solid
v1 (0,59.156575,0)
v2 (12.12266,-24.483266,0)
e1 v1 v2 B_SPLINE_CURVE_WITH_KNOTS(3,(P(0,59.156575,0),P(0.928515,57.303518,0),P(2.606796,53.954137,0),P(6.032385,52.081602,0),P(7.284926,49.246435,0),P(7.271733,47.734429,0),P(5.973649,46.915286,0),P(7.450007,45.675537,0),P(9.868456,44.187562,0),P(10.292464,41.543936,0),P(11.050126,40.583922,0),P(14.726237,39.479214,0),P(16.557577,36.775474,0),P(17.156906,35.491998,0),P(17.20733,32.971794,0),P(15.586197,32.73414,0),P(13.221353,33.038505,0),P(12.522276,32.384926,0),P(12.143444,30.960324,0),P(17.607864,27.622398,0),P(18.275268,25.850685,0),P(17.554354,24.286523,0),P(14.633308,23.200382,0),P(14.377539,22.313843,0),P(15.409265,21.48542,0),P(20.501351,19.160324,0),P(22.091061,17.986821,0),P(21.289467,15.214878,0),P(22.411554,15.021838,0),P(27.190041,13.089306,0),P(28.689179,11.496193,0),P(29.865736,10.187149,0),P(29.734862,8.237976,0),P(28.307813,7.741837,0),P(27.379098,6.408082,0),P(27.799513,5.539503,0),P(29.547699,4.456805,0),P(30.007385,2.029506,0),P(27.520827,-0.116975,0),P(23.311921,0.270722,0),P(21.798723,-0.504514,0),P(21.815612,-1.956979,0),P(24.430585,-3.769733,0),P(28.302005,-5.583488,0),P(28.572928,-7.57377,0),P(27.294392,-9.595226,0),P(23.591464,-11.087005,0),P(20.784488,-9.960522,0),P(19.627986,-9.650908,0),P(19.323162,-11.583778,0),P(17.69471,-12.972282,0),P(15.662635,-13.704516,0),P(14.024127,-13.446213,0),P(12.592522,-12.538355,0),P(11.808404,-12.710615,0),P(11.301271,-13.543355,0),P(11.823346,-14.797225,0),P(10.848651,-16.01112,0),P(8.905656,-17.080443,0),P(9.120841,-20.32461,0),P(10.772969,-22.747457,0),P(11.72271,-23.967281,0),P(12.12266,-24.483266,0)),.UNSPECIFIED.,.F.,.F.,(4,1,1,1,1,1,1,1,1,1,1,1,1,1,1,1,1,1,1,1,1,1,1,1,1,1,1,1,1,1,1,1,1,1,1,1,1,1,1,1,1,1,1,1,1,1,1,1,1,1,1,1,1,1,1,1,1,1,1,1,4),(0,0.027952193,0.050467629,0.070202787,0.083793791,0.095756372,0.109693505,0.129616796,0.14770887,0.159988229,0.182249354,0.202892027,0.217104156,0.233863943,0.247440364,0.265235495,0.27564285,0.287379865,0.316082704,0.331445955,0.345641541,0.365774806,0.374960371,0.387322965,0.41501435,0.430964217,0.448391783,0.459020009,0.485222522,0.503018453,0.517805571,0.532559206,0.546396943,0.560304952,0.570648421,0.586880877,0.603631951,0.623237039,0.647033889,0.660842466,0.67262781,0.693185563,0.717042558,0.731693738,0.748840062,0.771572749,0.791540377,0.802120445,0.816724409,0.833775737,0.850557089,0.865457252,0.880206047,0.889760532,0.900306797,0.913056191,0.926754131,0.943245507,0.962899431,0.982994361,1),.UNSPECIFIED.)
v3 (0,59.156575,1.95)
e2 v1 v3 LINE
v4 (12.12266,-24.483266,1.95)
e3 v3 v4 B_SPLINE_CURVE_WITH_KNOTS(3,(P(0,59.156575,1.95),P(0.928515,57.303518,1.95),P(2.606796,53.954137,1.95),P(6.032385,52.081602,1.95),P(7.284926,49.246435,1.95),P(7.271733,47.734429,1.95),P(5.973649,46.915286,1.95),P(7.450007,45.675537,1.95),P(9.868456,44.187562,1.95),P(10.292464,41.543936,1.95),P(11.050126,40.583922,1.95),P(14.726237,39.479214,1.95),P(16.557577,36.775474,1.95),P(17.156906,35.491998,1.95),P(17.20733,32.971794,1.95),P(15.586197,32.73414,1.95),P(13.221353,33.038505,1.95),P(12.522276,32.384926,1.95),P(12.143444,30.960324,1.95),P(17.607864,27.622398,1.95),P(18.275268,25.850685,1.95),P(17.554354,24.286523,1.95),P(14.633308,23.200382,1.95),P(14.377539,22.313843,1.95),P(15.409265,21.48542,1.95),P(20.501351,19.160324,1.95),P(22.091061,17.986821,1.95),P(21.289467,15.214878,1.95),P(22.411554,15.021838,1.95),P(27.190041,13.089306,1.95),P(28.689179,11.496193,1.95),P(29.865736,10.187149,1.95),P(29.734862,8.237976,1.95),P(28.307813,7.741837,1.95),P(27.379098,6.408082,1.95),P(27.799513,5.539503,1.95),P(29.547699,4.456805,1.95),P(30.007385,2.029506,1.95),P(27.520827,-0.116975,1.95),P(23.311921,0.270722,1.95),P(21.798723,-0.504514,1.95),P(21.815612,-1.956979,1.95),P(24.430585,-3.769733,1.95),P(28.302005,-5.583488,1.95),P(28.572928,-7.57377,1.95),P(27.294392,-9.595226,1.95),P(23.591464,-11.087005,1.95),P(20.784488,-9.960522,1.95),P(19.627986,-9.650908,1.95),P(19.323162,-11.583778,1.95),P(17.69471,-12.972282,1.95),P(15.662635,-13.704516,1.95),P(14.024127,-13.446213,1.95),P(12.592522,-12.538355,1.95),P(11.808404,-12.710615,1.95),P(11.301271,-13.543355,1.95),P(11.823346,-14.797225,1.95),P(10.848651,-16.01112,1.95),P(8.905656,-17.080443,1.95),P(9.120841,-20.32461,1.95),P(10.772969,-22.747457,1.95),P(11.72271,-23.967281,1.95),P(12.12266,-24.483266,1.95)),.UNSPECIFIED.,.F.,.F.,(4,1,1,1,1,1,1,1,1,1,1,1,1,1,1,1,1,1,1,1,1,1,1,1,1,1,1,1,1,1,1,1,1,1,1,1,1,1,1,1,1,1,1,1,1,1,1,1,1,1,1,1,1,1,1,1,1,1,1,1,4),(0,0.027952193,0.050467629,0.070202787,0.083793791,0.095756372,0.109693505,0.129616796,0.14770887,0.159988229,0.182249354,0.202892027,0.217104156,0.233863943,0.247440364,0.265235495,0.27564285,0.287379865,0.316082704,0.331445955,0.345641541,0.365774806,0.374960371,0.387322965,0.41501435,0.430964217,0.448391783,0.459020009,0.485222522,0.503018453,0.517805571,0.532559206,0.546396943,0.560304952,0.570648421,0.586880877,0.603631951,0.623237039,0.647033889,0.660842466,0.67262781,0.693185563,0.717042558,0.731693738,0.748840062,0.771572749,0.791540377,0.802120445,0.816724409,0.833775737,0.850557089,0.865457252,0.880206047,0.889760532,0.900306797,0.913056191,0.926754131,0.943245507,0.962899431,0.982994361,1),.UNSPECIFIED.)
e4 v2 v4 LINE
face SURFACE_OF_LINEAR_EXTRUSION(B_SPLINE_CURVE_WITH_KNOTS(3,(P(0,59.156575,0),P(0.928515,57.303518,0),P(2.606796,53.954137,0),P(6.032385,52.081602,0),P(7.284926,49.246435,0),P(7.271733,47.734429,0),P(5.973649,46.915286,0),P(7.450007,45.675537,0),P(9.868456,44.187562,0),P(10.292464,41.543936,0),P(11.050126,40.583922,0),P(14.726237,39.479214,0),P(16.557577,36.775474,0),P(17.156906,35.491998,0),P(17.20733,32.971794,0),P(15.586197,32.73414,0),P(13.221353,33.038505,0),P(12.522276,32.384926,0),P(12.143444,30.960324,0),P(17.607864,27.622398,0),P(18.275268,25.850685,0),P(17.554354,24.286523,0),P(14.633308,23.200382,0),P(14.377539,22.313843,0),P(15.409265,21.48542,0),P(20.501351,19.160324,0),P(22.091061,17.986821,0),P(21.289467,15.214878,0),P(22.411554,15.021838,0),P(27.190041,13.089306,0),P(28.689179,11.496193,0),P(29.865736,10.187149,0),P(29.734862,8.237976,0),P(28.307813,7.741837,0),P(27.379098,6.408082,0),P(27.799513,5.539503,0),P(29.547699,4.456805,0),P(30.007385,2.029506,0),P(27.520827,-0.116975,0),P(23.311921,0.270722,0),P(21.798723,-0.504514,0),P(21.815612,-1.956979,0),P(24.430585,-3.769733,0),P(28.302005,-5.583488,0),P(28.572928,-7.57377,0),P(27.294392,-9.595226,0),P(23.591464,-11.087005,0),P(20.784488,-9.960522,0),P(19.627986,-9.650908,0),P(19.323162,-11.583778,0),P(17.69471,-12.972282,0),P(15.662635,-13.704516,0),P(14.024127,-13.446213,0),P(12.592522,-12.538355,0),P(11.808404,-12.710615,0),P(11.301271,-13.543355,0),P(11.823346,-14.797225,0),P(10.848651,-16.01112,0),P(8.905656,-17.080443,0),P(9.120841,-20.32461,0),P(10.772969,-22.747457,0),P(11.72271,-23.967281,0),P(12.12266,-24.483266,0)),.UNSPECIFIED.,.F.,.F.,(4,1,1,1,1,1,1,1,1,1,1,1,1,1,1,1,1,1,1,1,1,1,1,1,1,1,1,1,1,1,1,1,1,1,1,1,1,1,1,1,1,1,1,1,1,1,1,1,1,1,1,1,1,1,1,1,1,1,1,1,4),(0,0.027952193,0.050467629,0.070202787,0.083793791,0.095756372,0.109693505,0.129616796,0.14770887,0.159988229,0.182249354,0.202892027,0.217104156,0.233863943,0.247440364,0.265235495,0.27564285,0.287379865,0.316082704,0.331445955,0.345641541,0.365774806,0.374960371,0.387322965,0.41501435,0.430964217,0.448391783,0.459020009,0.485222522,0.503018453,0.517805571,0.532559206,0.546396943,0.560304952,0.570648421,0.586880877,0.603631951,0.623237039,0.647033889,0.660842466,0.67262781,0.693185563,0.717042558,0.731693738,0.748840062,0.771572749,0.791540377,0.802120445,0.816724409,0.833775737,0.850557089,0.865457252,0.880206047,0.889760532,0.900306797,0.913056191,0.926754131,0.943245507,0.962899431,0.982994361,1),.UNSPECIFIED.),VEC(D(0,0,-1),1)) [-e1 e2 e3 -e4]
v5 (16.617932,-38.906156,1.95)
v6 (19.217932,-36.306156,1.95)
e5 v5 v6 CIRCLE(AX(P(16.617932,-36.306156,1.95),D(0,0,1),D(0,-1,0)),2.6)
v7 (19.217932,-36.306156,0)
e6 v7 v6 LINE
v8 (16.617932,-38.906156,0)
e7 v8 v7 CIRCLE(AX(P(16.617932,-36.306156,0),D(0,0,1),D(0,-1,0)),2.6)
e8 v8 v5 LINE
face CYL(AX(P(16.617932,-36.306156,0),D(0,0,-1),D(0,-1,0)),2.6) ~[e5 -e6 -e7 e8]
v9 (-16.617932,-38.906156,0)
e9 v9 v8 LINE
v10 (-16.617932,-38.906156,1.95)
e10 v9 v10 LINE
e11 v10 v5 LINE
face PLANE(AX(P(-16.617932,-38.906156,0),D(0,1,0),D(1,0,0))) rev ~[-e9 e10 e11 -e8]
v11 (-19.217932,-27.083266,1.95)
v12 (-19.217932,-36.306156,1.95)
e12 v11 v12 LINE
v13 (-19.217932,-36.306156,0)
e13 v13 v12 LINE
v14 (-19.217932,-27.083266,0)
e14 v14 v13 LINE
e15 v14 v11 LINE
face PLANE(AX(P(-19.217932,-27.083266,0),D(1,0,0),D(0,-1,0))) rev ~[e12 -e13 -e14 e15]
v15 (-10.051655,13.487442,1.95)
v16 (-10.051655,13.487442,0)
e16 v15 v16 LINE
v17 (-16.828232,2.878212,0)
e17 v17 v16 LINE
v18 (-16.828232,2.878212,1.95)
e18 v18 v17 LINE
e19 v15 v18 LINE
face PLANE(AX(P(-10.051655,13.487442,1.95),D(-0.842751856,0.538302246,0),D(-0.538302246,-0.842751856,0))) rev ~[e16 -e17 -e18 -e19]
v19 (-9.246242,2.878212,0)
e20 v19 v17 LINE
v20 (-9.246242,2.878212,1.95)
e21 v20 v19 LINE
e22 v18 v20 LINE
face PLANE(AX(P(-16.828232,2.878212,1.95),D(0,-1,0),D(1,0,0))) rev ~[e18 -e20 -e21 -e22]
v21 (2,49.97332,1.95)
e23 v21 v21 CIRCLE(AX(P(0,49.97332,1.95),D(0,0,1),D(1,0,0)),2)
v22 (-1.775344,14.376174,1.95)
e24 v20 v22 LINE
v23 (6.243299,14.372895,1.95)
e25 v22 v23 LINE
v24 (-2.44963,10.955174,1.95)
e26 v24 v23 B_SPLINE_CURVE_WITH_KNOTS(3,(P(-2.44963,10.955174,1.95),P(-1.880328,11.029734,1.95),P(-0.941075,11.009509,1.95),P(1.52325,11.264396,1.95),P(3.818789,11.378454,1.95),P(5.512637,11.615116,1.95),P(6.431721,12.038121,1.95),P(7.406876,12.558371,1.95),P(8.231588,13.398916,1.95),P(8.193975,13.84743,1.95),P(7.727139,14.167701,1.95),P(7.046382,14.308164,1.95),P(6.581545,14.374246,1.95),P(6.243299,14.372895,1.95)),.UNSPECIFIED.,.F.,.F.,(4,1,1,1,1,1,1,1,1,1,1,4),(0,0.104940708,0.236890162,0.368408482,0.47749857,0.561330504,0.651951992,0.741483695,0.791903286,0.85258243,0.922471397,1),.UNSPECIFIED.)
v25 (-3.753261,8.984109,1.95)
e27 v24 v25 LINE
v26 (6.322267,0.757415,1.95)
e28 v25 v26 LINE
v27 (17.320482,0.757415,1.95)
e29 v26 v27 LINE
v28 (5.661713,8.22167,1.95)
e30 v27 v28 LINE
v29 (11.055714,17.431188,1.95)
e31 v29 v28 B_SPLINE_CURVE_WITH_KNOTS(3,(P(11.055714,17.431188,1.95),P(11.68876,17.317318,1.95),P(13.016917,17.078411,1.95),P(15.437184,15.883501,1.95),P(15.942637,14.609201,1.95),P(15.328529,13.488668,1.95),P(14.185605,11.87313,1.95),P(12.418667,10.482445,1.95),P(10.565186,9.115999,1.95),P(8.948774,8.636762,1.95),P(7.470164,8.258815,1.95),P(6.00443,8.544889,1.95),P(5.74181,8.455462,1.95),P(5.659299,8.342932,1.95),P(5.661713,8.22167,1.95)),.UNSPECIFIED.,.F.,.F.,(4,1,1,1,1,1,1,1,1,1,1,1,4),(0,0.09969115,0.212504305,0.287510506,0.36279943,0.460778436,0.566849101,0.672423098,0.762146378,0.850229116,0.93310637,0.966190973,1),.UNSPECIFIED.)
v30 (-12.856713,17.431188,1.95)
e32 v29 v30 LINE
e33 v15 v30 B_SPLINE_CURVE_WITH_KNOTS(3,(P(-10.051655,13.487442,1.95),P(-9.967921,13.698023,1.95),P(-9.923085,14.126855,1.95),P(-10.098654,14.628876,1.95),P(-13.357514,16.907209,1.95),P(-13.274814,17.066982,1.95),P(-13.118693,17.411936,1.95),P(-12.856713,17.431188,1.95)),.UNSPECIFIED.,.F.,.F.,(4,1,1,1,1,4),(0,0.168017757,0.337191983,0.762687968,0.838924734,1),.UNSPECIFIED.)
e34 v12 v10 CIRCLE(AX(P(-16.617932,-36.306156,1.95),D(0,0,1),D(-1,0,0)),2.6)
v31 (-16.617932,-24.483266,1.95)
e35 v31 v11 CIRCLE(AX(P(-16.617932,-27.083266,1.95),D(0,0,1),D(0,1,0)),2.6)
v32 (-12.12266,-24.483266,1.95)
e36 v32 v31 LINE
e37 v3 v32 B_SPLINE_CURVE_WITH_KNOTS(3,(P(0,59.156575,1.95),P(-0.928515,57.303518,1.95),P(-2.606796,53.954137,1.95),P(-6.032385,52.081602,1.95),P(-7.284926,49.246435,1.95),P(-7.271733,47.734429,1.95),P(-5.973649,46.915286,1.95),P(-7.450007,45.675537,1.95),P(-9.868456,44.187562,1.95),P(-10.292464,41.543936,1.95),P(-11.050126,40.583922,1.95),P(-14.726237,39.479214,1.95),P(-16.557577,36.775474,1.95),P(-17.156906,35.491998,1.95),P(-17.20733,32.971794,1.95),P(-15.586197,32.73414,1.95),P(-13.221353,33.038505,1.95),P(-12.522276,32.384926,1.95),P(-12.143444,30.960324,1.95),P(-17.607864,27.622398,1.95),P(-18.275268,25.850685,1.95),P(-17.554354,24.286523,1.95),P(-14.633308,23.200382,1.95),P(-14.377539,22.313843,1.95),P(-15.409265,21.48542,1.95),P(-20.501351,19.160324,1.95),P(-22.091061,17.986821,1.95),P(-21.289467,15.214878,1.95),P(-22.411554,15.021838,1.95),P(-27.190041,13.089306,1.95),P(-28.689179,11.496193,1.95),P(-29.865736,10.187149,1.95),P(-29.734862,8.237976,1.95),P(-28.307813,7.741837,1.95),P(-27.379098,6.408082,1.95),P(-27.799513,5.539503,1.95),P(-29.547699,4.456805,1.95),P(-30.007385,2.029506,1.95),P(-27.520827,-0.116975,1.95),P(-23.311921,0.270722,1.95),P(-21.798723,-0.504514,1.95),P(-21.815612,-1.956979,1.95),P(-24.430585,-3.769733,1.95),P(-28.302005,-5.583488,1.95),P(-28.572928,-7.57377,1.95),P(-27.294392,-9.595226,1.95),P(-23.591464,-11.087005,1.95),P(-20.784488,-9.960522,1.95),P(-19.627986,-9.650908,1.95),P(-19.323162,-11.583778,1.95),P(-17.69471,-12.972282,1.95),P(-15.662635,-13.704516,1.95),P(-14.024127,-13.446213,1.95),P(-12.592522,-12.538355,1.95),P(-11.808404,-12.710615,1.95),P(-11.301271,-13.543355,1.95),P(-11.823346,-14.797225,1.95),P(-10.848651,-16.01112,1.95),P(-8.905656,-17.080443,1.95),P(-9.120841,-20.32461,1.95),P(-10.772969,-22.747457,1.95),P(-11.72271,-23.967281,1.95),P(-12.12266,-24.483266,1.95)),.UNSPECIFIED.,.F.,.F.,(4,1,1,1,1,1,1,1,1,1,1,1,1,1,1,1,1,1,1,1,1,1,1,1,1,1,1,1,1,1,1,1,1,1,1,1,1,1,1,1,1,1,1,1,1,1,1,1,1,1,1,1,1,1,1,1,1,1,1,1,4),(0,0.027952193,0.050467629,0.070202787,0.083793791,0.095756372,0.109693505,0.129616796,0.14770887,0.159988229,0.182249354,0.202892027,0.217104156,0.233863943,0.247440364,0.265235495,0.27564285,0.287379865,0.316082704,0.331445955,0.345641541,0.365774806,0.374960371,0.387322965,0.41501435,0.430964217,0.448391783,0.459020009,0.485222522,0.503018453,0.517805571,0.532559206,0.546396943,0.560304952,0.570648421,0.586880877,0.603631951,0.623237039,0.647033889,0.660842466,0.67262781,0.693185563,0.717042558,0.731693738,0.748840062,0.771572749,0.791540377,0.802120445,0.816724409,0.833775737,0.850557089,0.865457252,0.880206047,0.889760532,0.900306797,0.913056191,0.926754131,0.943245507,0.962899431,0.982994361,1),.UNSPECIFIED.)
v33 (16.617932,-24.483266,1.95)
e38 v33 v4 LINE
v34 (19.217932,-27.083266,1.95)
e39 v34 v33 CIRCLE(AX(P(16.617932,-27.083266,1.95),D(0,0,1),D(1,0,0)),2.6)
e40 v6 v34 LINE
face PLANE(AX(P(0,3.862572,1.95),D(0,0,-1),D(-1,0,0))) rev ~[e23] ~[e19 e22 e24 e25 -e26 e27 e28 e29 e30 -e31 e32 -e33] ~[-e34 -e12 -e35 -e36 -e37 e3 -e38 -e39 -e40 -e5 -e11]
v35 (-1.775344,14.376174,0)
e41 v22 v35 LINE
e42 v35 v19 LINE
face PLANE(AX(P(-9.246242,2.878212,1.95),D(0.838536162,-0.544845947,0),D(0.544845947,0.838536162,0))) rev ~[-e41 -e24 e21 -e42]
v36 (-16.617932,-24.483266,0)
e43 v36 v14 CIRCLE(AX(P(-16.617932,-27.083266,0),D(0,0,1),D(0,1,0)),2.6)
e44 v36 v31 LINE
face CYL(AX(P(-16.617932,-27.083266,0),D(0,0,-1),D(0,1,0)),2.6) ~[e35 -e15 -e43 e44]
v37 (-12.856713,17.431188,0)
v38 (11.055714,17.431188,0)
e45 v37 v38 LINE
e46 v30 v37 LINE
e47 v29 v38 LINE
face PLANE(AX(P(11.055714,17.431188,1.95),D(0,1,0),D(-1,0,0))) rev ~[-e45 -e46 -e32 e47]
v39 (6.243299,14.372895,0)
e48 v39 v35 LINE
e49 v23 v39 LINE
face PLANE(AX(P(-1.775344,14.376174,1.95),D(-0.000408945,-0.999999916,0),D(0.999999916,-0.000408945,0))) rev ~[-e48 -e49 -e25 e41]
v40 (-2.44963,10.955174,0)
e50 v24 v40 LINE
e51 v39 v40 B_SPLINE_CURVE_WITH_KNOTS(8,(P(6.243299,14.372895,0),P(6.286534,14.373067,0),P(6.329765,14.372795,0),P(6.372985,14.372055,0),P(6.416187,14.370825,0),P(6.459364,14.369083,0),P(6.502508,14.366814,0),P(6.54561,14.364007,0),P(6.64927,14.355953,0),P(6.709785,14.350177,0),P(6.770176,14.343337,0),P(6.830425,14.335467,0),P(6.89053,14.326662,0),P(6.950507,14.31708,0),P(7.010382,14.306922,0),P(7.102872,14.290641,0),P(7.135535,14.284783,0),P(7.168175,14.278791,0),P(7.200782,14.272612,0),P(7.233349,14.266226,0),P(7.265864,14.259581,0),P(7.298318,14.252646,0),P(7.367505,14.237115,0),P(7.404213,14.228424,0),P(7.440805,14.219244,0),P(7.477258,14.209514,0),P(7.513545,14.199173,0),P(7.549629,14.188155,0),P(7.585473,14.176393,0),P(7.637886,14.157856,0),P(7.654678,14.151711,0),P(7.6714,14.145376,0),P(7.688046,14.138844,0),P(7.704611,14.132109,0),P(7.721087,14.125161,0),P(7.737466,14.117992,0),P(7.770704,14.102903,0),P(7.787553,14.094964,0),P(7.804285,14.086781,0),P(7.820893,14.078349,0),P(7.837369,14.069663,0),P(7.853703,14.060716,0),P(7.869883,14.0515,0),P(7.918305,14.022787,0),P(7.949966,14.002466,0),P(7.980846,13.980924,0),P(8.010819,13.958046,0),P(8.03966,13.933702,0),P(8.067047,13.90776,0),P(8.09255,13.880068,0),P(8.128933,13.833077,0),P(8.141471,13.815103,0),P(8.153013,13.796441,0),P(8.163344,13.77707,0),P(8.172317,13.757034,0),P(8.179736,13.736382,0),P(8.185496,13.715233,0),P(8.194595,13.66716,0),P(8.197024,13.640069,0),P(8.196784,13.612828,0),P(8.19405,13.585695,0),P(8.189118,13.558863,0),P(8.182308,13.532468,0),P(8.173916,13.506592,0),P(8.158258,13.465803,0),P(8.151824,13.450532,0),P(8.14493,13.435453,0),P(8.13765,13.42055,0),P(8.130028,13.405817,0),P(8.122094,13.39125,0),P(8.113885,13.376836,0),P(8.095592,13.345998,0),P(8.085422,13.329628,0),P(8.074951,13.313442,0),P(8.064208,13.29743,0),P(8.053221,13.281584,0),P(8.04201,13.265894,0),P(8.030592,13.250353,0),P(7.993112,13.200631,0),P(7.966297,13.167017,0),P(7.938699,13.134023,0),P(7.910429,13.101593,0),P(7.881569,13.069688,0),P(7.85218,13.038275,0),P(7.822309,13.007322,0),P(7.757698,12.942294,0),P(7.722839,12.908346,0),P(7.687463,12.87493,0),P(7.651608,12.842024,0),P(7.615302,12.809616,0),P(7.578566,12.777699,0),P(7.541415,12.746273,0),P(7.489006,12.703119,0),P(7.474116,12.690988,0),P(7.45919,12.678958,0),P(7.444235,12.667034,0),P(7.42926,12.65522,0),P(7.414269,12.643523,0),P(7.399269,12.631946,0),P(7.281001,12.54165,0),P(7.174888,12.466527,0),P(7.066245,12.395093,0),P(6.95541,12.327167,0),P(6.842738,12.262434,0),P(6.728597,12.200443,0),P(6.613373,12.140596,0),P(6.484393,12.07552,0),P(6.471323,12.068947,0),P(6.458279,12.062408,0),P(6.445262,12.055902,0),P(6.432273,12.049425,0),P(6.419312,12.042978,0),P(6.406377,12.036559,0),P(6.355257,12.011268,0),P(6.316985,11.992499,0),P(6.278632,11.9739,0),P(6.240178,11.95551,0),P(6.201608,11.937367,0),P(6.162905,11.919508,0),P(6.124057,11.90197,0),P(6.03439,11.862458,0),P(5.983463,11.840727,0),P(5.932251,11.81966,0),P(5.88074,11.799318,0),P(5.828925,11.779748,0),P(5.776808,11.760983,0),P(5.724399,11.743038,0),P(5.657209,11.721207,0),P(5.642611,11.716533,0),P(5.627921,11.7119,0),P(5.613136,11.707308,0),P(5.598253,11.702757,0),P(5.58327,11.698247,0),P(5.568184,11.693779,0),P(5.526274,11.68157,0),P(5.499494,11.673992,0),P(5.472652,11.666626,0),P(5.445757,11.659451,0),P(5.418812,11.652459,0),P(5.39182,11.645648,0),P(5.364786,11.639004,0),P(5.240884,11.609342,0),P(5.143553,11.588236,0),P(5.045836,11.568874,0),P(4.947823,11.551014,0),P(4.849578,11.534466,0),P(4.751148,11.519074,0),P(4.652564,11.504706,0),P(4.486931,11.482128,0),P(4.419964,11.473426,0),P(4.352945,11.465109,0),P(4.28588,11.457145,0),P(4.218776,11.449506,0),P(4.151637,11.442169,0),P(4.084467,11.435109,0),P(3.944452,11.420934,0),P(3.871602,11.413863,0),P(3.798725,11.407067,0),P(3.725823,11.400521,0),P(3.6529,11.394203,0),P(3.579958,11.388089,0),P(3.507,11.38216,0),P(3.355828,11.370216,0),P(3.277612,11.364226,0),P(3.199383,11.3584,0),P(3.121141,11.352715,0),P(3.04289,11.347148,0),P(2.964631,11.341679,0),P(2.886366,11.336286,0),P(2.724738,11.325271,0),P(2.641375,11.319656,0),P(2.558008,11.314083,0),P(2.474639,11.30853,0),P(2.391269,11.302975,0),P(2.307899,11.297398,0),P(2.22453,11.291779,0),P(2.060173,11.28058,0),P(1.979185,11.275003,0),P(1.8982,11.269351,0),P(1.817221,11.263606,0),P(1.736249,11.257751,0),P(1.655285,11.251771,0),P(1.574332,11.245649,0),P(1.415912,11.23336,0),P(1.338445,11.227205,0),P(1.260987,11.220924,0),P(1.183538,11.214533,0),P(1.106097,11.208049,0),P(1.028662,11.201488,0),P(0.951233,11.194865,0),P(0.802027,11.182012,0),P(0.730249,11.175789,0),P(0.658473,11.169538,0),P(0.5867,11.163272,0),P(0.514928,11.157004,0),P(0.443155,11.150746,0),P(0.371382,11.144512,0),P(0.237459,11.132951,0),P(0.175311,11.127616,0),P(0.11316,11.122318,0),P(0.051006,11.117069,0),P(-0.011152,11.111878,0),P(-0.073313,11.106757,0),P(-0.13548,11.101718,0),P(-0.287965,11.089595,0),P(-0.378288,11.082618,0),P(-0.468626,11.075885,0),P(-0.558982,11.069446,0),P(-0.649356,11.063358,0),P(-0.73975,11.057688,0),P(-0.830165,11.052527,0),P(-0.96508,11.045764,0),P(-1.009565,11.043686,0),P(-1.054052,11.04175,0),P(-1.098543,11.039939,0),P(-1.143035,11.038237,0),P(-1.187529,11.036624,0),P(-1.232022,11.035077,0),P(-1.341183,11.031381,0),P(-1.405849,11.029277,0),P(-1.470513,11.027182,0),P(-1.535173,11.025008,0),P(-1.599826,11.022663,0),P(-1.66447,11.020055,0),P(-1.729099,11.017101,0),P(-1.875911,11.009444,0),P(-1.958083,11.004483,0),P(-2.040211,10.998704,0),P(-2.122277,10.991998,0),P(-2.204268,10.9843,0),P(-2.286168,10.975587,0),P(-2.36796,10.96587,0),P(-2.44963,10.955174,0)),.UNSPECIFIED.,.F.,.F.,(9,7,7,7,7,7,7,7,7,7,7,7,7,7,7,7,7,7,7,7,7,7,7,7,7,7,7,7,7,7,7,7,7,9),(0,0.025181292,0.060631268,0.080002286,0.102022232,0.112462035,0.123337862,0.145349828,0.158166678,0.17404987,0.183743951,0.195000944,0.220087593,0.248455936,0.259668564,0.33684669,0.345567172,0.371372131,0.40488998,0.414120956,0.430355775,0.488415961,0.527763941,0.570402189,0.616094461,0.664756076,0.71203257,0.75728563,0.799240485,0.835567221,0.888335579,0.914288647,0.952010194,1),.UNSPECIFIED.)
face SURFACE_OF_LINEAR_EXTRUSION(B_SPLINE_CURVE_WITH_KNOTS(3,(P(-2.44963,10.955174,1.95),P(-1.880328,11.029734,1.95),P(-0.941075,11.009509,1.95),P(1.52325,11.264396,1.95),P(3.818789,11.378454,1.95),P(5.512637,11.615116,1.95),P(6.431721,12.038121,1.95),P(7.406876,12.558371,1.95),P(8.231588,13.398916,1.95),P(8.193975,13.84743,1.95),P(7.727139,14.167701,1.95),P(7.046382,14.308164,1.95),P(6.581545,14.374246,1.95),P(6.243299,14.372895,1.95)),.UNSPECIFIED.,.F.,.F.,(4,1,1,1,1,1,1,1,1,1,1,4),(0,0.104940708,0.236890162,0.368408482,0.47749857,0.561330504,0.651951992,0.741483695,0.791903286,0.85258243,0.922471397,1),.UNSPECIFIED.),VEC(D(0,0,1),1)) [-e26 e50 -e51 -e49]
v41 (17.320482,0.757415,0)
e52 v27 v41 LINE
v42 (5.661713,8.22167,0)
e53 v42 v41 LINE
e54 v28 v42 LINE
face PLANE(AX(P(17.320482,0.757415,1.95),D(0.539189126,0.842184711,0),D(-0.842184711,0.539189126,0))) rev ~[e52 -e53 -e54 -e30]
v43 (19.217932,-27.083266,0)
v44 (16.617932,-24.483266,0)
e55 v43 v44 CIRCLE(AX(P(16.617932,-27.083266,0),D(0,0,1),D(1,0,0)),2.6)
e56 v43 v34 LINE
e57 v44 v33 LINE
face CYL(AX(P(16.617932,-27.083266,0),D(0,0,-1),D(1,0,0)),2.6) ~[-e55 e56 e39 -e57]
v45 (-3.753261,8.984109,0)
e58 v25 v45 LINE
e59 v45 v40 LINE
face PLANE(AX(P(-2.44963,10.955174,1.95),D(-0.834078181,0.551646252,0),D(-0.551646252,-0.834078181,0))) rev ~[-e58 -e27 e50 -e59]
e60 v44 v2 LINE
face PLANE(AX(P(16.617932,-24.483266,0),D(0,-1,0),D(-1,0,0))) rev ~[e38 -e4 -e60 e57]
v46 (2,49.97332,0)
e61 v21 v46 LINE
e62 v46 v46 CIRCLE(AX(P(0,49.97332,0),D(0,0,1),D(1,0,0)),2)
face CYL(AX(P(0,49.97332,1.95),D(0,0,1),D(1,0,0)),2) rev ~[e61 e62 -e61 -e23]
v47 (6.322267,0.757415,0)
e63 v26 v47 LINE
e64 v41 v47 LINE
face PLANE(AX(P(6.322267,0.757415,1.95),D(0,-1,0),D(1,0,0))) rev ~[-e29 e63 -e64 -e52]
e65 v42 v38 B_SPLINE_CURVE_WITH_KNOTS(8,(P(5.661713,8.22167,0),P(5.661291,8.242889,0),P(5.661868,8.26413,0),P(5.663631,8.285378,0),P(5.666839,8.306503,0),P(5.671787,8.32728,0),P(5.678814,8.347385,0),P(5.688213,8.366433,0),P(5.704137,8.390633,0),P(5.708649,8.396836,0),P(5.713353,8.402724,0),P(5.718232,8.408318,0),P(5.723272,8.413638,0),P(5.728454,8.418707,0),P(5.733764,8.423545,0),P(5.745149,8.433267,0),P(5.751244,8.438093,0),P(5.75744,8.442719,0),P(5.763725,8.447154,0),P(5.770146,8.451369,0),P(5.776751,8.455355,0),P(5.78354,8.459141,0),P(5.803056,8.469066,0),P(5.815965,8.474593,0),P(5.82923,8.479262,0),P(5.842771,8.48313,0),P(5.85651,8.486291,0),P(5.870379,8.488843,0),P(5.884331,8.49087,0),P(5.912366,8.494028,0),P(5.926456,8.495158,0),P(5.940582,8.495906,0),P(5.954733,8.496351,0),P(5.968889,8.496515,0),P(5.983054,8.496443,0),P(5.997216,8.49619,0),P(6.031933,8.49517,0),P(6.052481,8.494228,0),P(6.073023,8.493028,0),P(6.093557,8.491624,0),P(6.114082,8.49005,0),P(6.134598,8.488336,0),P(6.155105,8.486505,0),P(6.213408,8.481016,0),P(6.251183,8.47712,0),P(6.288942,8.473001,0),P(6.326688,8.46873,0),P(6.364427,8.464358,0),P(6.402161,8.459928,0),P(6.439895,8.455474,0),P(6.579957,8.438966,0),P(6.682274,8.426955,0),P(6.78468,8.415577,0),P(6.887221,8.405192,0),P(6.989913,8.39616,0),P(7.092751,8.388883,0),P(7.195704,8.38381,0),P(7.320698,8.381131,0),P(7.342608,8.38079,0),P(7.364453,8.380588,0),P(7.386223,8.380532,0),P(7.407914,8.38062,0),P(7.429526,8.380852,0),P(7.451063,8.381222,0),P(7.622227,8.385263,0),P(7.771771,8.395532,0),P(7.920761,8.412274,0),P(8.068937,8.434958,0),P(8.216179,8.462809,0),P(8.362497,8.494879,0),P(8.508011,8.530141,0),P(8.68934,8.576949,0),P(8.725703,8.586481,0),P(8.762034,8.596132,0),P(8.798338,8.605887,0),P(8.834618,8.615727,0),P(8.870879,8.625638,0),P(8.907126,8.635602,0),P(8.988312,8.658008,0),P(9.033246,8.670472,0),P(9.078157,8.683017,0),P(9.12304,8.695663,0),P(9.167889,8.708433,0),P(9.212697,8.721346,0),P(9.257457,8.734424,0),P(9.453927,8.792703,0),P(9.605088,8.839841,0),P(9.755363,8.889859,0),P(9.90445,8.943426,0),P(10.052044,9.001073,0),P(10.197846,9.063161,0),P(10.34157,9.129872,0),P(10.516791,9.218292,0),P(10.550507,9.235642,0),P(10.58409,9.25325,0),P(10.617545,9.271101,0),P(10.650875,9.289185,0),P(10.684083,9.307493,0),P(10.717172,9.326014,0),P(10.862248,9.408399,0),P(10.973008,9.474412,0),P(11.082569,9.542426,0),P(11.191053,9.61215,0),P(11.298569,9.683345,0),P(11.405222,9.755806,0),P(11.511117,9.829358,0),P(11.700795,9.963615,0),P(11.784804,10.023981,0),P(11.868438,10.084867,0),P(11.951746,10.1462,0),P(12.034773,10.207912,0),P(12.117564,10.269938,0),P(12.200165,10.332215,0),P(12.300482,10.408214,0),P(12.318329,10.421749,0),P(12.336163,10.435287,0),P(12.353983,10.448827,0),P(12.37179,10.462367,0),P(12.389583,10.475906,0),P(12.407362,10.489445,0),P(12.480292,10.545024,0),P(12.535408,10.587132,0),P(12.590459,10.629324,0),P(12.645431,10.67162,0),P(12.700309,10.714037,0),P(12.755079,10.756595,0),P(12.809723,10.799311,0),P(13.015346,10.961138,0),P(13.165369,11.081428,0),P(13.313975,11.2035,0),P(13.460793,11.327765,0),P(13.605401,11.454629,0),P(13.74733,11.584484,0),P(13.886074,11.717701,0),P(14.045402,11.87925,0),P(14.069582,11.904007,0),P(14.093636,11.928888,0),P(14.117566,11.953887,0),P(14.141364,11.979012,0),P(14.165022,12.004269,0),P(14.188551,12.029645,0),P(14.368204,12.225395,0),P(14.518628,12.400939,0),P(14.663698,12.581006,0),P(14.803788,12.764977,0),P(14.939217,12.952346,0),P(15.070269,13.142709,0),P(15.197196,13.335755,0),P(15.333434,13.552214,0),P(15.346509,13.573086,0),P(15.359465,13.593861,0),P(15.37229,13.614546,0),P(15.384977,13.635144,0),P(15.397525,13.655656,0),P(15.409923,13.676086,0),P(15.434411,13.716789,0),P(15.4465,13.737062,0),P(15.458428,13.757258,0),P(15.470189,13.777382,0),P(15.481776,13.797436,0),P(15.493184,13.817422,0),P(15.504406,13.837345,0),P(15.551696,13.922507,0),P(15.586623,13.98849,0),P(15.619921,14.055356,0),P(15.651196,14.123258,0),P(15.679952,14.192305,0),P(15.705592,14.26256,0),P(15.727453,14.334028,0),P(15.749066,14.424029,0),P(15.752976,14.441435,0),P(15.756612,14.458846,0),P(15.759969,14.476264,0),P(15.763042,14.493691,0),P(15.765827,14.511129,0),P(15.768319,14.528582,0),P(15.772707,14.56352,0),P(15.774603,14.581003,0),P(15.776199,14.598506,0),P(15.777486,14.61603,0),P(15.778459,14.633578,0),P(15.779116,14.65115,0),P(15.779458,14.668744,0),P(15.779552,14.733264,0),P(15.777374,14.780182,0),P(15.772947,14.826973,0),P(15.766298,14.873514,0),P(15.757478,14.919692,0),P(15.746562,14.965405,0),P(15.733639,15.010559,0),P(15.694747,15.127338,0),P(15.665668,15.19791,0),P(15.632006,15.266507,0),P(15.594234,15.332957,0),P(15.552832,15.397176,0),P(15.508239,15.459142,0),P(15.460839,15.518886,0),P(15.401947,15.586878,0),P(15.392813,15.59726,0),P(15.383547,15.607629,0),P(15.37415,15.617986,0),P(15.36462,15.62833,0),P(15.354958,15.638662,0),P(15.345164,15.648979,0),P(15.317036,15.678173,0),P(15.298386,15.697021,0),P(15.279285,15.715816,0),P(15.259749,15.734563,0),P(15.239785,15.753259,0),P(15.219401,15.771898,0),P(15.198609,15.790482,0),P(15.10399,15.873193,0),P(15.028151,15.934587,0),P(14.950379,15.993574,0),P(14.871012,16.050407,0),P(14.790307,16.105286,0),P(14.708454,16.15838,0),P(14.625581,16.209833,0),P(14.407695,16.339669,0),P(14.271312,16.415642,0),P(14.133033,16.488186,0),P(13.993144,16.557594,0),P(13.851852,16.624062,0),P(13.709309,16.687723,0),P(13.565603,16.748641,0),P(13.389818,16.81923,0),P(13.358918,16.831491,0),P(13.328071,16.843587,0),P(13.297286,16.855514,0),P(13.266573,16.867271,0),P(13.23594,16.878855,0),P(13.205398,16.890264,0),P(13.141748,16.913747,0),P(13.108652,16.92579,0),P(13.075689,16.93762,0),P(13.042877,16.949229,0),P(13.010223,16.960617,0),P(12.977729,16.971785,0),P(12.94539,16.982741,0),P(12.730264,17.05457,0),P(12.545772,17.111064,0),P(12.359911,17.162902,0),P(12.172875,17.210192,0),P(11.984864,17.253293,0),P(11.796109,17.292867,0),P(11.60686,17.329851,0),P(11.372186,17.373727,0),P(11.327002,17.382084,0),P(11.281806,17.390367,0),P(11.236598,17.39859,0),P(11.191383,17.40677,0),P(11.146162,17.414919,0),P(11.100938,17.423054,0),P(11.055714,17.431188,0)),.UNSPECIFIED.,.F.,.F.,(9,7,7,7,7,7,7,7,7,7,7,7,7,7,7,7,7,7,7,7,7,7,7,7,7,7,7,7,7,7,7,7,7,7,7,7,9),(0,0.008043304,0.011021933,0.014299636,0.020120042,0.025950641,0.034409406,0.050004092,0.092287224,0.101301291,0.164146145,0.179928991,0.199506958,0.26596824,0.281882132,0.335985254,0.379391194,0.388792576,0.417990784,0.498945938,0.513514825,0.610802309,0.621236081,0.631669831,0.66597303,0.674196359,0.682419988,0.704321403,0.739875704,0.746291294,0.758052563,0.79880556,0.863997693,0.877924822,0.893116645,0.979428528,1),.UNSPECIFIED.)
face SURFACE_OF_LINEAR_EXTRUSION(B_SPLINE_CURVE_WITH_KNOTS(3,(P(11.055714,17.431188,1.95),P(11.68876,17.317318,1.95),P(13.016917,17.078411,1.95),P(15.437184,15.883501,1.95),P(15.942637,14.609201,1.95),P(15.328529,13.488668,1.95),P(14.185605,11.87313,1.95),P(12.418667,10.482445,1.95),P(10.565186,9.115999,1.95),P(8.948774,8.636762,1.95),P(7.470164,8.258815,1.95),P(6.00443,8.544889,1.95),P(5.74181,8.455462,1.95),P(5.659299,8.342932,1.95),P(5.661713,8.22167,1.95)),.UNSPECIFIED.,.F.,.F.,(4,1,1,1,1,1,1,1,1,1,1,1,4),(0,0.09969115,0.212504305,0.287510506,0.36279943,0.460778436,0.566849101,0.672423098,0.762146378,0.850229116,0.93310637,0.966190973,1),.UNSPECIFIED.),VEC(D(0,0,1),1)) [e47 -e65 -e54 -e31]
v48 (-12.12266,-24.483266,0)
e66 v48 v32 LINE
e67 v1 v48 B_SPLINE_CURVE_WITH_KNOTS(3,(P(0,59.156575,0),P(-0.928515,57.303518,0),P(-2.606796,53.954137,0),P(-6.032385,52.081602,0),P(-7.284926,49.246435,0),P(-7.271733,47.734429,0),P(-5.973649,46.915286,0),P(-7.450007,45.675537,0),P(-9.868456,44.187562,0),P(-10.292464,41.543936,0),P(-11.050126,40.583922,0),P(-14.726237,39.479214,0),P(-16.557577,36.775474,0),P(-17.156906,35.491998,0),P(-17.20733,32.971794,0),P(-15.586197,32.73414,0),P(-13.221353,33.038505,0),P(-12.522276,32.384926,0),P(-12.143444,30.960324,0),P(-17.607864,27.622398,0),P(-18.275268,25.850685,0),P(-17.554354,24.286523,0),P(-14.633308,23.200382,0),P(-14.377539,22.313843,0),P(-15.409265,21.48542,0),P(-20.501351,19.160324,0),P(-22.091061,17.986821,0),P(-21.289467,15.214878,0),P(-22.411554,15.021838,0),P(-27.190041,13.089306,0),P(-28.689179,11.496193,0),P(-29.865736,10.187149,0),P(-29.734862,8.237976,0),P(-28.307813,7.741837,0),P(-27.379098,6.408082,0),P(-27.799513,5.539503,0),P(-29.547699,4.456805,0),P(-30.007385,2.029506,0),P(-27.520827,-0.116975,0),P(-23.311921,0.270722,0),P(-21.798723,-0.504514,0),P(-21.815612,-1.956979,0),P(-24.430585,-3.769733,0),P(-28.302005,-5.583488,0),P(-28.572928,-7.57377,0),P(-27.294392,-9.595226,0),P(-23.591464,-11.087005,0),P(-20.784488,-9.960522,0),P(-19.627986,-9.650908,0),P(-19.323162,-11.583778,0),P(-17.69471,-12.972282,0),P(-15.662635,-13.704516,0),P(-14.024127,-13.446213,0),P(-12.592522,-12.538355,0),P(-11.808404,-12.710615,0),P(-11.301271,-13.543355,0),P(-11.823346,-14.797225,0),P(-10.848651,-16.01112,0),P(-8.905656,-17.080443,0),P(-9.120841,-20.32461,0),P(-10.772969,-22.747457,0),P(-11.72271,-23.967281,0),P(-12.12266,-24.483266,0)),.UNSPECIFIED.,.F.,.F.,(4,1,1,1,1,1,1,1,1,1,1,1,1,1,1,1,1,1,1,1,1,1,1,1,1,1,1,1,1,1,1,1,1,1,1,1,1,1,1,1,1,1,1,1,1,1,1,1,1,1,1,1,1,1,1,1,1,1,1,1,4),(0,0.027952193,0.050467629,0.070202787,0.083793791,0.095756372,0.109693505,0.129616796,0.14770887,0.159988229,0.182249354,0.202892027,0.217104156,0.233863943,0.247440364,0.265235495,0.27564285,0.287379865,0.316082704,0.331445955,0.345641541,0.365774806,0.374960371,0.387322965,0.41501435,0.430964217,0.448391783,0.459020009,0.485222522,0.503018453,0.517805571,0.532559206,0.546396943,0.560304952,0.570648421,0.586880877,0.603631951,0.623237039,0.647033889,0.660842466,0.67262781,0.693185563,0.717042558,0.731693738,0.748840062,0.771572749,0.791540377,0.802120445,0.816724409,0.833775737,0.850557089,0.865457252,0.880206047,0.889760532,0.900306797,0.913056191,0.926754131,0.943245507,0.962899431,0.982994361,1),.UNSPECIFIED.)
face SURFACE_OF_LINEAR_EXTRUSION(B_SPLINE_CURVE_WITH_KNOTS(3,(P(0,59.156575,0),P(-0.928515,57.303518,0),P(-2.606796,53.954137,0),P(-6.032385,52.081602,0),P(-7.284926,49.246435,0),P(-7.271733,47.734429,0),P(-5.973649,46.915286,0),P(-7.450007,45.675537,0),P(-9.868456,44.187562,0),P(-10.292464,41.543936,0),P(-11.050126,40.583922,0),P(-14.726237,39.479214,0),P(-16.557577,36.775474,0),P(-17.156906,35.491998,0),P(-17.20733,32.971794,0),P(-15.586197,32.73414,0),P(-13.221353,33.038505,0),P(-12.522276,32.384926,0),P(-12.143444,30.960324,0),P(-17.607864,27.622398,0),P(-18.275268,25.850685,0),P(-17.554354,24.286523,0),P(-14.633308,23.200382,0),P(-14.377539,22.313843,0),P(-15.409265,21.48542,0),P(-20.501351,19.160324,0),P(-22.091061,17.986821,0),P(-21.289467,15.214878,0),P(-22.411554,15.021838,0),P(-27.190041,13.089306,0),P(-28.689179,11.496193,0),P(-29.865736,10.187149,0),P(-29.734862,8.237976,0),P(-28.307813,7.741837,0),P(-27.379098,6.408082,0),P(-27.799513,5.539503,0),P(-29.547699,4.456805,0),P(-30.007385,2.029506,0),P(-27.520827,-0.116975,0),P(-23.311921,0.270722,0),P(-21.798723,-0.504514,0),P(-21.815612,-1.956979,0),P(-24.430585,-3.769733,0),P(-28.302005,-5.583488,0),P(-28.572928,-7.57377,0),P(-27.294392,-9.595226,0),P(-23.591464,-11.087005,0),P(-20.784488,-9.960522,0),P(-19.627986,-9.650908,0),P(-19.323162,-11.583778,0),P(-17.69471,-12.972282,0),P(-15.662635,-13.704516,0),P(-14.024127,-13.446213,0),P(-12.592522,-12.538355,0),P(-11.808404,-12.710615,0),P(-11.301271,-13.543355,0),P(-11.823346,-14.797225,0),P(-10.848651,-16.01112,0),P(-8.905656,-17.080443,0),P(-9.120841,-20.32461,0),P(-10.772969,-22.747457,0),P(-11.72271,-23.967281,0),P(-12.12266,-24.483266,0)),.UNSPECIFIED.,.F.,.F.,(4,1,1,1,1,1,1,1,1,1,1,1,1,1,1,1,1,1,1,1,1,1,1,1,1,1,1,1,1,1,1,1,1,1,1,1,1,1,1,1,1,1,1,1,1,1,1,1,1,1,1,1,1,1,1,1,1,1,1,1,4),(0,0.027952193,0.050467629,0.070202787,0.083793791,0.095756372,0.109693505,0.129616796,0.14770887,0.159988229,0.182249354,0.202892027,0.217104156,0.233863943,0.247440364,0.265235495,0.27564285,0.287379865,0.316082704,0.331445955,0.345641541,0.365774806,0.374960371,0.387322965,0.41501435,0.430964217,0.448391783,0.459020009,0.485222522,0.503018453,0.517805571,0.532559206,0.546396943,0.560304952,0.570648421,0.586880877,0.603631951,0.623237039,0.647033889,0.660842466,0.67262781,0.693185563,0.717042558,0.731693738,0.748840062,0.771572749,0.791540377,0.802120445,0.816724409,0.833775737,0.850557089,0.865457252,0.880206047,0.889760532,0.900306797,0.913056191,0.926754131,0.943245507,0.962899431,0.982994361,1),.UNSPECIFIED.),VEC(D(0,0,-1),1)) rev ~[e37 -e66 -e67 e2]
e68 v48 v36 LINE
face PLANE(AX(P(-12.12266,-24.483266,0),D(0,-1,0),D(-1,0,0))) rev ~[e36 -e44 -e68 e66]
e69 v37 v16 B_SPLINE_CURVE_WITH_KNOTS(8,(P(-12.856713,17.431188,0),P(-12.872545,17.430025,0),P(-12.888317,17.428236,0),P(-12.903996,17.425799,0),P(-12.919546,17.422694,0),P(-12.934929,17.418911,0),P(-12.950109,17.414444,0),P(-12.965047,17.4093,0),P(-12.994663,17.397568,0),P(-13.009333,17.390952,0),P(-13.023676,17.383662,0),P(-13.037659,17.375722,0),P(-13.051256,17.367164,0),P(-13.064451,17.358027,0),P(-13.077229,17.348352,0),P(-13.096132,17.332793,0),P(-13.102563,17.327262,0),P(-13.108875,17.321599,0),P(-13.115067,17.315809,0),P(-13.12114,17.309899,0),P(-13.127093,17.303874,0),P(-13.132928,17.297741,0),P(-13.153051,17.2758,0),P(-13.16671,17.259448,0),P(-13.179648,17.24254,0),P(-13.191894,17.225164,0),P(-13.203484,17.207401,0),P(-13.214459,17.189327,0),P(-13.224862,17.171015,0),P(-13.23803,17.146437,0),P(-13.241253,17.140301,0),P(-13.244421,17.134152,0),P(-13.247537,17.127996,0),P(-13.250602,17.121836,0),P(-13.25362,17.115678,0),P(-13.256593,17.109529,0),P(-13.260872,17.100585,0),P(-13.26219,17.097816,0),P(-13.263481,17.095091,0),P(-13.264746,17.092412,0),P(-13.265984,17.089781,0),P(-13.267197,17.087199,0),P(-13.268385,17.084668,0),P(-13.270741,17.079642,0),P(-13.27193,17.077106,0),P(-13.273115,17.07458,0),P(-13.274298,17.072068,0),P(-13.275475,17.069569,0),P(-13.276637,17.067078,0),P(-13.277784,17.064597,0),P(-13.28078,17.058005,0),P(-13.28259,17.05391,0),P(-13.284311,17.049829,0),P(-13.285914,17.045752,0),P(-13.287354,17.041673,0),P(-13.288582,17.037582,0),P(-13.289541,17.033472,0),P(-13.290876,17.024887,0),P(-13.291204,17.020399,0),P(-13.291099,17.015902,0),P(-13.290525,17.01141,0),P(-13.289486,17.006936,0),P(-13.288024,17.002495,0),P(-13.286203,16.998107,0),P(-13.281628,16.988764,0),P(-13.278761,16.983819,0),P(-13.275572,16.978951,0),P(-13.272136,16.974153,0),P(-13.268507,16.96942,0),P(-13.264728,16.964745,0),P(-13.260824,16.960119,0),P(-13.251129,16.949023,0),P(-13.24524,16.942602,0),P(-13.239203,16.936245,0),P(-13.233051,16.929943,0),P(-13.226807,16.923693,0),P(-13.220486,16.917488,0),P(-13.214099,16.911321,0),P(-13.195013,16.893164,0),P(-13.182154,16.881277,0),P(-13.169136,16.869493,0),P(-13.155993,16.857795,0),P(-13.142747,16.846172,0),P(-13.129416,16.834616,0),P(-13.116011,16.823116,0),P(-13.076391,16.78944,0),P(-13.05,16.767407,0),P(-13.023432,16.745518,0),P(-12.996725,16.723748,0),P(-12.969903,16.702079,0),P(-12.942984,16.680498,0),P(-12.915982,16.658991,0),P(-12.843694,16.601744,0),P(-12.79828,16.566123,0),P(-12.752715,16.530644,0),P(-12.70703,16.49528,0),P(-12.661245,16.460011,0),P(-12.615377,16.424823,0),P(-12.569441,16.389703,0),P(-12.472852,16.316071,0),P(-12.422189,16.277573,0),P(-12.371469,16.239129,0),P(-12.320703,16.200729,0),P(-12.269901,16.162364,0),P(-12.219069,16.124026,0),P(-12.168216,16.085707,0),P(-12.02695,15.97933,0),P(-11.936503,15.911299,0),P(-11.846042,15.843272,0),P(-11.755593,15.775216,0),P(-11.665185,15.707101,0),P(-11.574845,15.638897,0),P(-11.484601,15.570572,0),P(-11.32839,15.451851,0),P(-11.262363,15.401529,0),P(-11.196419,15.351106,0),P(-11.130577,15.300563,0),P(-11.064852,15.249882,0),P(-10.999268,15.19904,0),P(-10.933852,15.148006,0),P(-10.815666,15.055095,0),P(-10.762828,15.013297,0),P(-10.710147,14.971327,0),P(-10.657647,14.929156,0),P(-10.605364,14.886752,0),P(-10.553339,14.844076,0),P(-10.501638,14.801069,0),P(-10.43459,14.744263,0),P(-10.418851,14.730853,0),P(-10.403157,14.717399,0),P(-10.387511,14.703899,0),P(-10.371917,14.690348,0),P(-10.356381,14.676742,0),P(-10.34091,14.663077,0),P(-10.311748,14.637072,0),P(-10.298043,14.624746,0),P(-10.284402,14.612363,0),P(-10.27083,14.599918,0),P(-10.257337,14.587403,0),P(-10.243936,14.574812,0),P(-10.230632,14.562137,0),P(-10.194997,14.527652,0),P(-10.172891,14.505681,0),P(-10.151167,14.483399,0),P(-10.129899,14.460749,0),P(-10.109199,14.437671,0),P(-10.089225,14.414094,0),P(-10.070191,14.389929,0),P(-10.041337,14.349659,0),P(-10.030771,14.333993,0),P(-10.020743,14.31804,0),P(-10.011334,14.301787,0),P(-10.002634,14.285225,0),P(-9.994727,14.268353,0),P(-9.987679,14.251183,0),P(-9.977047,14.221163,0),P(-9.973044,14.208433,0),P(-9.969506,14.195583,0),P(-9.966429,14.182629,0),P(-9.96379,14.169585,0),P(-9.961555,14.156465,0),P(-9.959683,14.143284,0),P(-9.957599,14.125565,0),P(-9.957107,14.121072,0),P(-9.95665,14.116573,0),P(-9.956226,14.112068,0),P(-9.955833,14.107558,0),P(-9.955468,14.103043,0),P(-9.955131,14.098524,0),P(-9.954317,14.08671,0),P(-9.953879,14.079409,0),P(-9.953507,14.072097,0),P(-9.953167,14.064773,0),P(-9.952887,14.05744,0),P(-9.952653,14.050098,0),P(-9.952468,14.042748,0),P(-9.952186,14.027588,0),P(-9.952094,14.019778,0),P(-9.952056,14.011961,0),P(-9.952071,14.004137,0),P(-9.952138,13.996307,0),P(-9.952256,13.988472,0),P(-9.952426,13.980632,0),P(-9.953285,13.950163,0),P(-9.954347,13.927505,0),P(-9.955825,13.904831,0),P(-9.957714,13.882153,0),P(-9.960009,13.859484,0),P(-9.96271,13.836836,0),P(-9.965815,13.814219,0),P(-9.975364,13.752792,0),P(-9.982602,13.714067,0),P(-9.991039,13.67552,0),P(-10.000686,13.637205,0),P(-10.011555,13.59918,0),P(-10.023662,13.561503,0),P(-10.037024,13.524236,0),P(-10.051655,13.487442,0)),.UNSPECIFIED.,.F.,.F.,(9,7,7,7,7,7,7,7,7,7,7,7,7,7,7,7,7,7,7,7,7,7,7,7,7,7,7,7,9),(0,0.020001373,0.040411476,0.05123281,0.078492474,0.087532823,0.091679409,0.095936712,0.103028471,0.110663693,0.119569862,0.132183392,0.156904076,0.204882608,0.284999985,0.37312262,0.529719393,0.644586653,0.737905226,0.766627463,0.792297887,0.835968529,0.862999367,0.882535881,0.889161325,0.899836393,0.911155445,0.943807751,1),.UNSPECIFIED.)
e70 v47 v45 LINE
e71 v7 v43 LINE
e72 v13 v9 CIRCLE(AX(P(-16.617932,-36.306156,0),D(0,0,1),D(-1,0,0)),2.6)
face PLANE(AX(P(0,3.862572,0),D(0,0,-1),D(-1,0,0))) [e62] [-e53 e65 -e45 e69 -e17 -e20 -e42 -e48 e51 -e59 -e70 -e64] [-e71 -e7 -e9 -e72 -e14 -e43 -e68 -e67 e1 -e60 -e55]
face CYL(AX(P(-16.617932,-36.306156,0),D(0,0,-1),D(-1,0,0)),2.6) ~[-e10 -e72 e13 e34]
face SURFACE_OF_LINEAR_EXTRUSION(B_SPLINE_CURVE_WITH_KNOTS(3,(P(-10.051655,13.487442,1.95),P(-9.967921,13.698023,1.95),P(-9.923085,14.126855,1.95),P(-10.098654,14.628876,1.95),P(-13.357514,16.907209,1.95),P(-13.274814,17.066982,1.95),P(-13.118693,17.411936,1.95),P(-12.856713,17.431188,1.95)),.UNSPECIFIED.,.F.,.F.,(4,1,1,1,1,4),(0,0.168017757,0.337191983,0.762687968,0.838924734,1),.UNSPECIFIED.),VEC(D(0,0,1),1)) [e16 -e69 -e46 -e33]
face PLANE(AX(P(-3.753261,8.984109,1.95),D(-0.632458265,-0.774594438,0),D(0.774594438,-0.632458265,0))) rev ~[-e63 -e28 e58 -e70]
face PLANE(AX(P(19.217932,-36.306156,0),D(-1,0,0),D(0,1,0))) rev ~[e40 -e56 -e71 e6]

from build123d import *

# Parameters (mm, degrees)
F1_DEPTH = 1.5
F2_SCALE = 1.3
F3_R     = 2
F4_DEPTH = 1.9510001
F6_DEPTH = 1.9510001


with BuildPart() as f1:
    # F0 (on Top) → F1 (new body)
    with BuildSketch(Plane.XY):
        with BuildLine():
            add(Edge.make_bspline(
                [(0, 45.5050580204), (0.7142425006, 44.0796289631), (2.0052275605, 41.503182427), (4.6402957828, 40.0627711385), (5.6037892919, 37.881872721), (5.5936404093, 36.71879158), (4.5951142612, 36.0886818096), (5.7307746453, 35.1350282021), (7.5911196455, 33.9904323837), (7.9172796835, 31.956874219), (8.5000966539, 31.2184014739), (11.3278744693, 30.3686265303), (12.736597555, 28.288825875), (13.1976203441, 27.3015367821), (13.236407841, 25.3629188093), (11.9893823486, 25.1801074341), (10.1702717418, 25.4142346577), (9.6325200432, 24.9114817752), (9.3411107638, 23.815633911), (13.5445107824, 21.2479980884), (14.0578984345, 19.885141949), (13.5033493539, 18.6819406462), (11.256391137, 17.8464473714), (11.0596453486, 17.1644942773), (11.8532806973, 16.5272458042), (15.7702697907, 14.7387104677), (16.993123799, 13.8360161183), (16.3765127679, 11.7037521142), (17.2396567232, 11.5552601738), (20.9154165322, 10.0686967068), (22.0685994881, 8.8432253215), (22.9736430455, 7.8362683722), (22.872971038, 6.3369047051), (21.7752410777, 5.955259181), (21.0608443327, 4.9292935888), (21.3842409106, 4.2611562008), (22.7289993416, 3.4283114773), (23.0826036647, 1.5611581107), (21.169867279, -0.089980491), (17.9322466809, 0.2082480356), (16.7682485506, -0.3880878246), (16.7812400893, -1.5053684402), (18.7927580586, -2.8997949134), (21.7707730379, -4.2949909562), (21.9791753847, -5.825976716), (20.9956859936, -7.3809433562), (18.1472797938, -8.5284651703), (15.9880676557, -7.6619403601), (15.0984510718, -7.4237754422), (14.86397039, -8.9105983509), (13.61131565, -9.9786781625), (12.0481808403, -10.5419351232), (10.7877898676, -10.3432404822), (9.6865552289, -9.6448888438), (9.0833876361, -9.7773965213), (8.6932854825, -10.4179652528), (9.0948811543, -11.3824804306), (8.3451159992, -12.3162459962), (6.8505046064, -13.1388026508), (7.0160314268, -15.6343150866), (8.2868992841, -17.4980437436), (9.0174690224, -18.4363697121), (9.325123392, -18.8332814723)],
                knots=[0, 0, 0, 0, 0.0279521931, 0.0504676292, 0.0702027867, 0.0837937909, 0.0957563723, 0.1096935049, 0.1296167957, 0.1477088701, 0.1599882295, 0.1822493536, 0.202892027, 0.2171041564, 0.2338639434, 0.2474403639, 0.2652354948, 0.2756428502, 0.2873798646, 0.3160827043, 0.3314459546, 0.3456415412, 0.3657748055, 0.3749603713, 0.3873229653, 0.4150143501, 0.4309642169, 0.4483917829, 0.4590200093, 0.4852225219, 0.5030184532, 0.5178055706, 0.5325592061, 0.5463969433, 0.5603049518, 0.5706484206, 0.5868808774, 0.6036319509, 0.6232370386, 0.6470338888, 0.660842466, 0.6726278095, 0.6931855633, 0.7170425576, 0.731693738, 0.7488400623, 0.7715727487, 0.7915403768, 0.802120445, 0.816724409, 0.833775737, 0.8505570893, 0.8654572521, 0.8802060474, 0.8897605325, 0.9003067971, 0.9130561907, 0.9267541315, 0.9432455072, 0.9628994308, 0.9829943609, 1, 1, 1, 1], degree=3))
            add(Edge.make_bspline(
                [(0, 45.5050580204), (-0.7142425006, 44.0796289631), (-2.0052275605, 41.503182427), (-4.6402957828, 40.0627711385), (-5.6037892919, 37.881872721), (-5.5936404093, 36.71879158), (-4.5951142612, 36.0886818096), (-5.7307746453, 35.1350282021), (-7.5911196455, 33.9904323837), (-7.9172796835, 31.956874219), (-8.5000966539, 31.2184014739), (-11.3278744693, 30.3686265303), (-12.736597555, 28.288825875), (-13.1976203441, 27.3015367821), (-13.236407841, 25.3629188093), (-11.9893823486, 25.1801074341), (-10.1702717418, 25.4142346577), (-9.6325200432, 24.9114817752), (-9.3411107638, 23.815633911), (-13.5445107824, 21.2479980884), (-14.0578984345, 19.885141949), (-13.5033493539, 18.6819406462), (-11.256391137, 17.8464473714), (-11.0596453486, 17.1644942773), (-11.8532806973, 16.5272458042), (-15.7702697907, 14.7387104677), (-16.993123799, 13.8360161183), (-16.3765127679, 11.7037521142), (-17.2396567232, 11.5552601738), (-20.9154165322, 10.0686967068), (-22.0685994881, 8.8432253215), (-22.9736430455, 7.8362683722), (-22.872971038, 6.3369047051), (-21.7752410777, 5.955259181), (-21.0608443327, 4.9292935888), (-21.3842409106, 4.2611562008), (-22.7289993416, 3.4283114773), (-23.0826036647, 1.5611581107), (-21.169867279, -0.089980491), (-17.9322466809, 0.2082480356), (-16.7682485506, -0.3880878246), (-16.7812400893, -1.5053684402), (-18.7927580586, -2.8997949134), (-21.7707730379, -4.2949909562), (-21.9791753847, -5.825976716), (-20.9956859936, -7.3809433562), (-18.1472797938, -8.5284651703), (-15.9880676557, -7.6619403601), (-15.0984510718, -7.4237754422), (-14.86397039, -8.9105983509), (-13.61131565, -9.9786781625), (-12.0481808403, -10.5419351232), (-10.7877898676, -10.3432404822), (-9.6865552289, -9.6448888438), (-9.0833876361, -9.7773965213), (-8.6932854825, -10.4179652528), (-9.0948811543, -11.3824804306), (-8.3451159992, -12.3162459962), (-6.8505046064, -13.1388026508), (-7.0160314268, -15.6343150866), (-8.2868992841, -17.4980437436), (-9.0174690224, -18.4363697121), (-9.325123392, -18.8332814723)],
                knots=[0, 0, 0, 0, 0.0279521931, 0.0504676292, 0.0702027867, 0.0837937909, 0.0957563723, 0.1096935049, 0.1296167957, 0.1477088701, 0.1599882295, 0.1822493536, 0.202892027, 0.2171041564, 0.2338639434, 0.2474403639, 0.2652354948, 0.2756428502, 0.2873798646, 0.3160827043, 0.3314459546, 0.3456415412, 0.3657748055, 0.3749603713, 0.3873229653, 0.4150143501, 0.4309642169, 0.4483917829, 0.4590200093, 0.4852225219, 0.5030184532, 0.5178055706, 0.5325592061, 0.5463969433, 0.5603049518, 0.5706484206, 0.5868808774, 0.6036319509, 0.6232370386, 0.6470338888, 0.660842466, 0.6726278095, 0.6931855633, 0.7170425576, 0.731693738, 0.7488400623, 0.7715727487, 0.7915403768, 0.802120445, 0.816724409, 0.833775737, 0.8505570893, 0.8654572521, 0.8802060474, 0.8897605325, 0.9003067971, 0.9130561907, 0.9267541315, 0.9432455072, 0.9628994308, 0.9829943609, 1, 1, 1, 1], degree=3))
            Line((-9.325123392, -18.8332814723), (-12.7830247879, -18.8332814723))
            ThreePointArc((-12.7830247879, -18.8332814723), (-14.1972383503, -19.41906791), (-14.7830247879, -20.8332814723))
            Line((-14.7830247879, -20.8332814723), (-14.7830247879, -27.9278125167))
            ThreePointArc((-14.7830247879, -27.9278125167), (-14.1972383503, -29.3420260791), (-12.7830247879, -29.9278125167))
            Line((-12.7830247879, -29.9278125167), (0, -29.9278125167))
            Line((0, -29.9278125167), (12.7830247879, -29.9278125167))
            ThreePointArc((12.7830247879, -29.9278125167), (14.1972383503, -29.3420260791), (14.7830247879, -27.9278125167))
            Line((14.7830247879, -27.9278125167), (14.7830247879, -20.8332814723))
            ThreePointArc((14.7830247879, -20.8332814723), (14.1972383503, -19.41906791), (12.7830247879, -18.8332814723))
            Line((12.7830247879, -18.8332814723), (9.325123392, -18.8332814723))
        make_face()
    extrude(amount=F1_DEPTH)


with BuildPart() as f1_1:
    # F2: moved
    add(f1.part.scale(F2_SCALE))

    # F3 (on face) → F4 (cut, through all)
    with BuildSketch(Plane.XY.offset(1.95)):
        with Locations((0, 49.9733202159)):
            Circle(F3_R)
    extrude(amount=-F4_DEPTH, mode=Mode.SUBTRACT)

    # F5 (on face) → F6 (cut, through all)
    with BuildSketch(Plane.XY.offset(1.95)):
        with BuildLine():
            Line((11.0557144508, 17.4311883748), (-12.8567134961, 17.4311883748))
            add(Edge.make_bspline(
                [(-10.0516546518, 13.4874423966), (-9.9679213861, 13.6980227208), (-9.9230846178, 14.126854671), (-10.0986540021, 14.6288764381), (-13.3575138898, 16.9072087787), (-13.2748139445, 17.0669823523), (-13.1186931133, 17.4119357151), (-12.8567134961, 17.4311883748)],
                knots=[0, 0, 0, 0, 0.1680177569, 0.3371919829, 0.7626879676, 0.8389247343, 1, 1, 1, 1], degree=3))
            Line((-10.0516546518, 13.4874423966), (-16.8282315135, 2.8782116715))
            Line((-16.8282315135, 2.8782116715), (-9.2462422326, 2.8782116715))
            Line((-9.2462422326, 2.8782116715), (-1.7753443681, 14.3761737272))
            Line((-1.7753443681, 14.3761737272), (6.2432992272, 14.3728945404))
            add(Edge.make_bspline(
                [(-2.4496298283, 10.9551744536), (-1.8803284968, 11.0297335518), (-0.9410748476, 11.0095094173), (1.5232504357, 11.2643960003), (3.8187894731, 11.3784538291), (5.5126374306, 11.6151160422), (6.4317207729, 12.0381208735), (7.4068761466, 12.5583706563), (8.2315877134, 13.3989162837), (8.1939752343, 13.847429914), (7.7271387252, 14.1677011277), (7.0463823788, 14.3081639959), (6.5815449815, 14.3742458527), (6.2432992272, 14.3728945404)],
                knots=[0, 0, 0, 0, 0.104940708, 0.2368901618, 0.3684084821, 0.4774985702, 0.5613305035, 0.6519519919, 0.7414836949, 0.7919032856, 0.8525824301, 0.9224713966, 1, 1, 1, 1], degree=3))
            Line((-2.4496298283, 10.9551744536), (-3.7532614078, 8.9841093868))
            Line((-3.7532614078, 8.9841093868), (6.3222674653, 0.7574152551))
            Line((6.3222674653, 0.7574152551), (17.3204820603, 0.7574152551))
            Line((17.3204820603, 0.7574152551), (5.6617134251, 8.2216700539))
            add(Edge.make_bspline(
                [(11.0557144508, 17.4311883748), (11.6887603805, 17.3173178574), (13.0169166571, 17.078411323), (15.4371840204, 15.8835011232), (15.9426374665, 14.6092014422), (15.3285293602, 13.4886682777), (14.1856050737, 11.8731300206), (12.4186669442, 10.482444843), (10.5651863652, 9.1159994395), (8.9487736384, 8.636762116), (7.4701639349, 8.2588147388), (6.0044295579, 8.544889368), (5.7418100518, 8.4554616642), (5.6592990846, 8.342932345), (5.6617134251, 8.2216700539)],
                knots=[0, 0, 0, 0, 0.0996911495, 0.2125043055, 0.2875105061, 0.3627994298, 0.4607784359, 0.5668491012, 0.6724230978, 0.7621463785, 0.8502291159, 0.9331063697, 0.9661909729, 1, 1, 1, 1], degree=3))
        make_face()
    extrude(amount=-F6_DEPTH, mode=Mode.SUBTRACT)


solid = f1_1.part
